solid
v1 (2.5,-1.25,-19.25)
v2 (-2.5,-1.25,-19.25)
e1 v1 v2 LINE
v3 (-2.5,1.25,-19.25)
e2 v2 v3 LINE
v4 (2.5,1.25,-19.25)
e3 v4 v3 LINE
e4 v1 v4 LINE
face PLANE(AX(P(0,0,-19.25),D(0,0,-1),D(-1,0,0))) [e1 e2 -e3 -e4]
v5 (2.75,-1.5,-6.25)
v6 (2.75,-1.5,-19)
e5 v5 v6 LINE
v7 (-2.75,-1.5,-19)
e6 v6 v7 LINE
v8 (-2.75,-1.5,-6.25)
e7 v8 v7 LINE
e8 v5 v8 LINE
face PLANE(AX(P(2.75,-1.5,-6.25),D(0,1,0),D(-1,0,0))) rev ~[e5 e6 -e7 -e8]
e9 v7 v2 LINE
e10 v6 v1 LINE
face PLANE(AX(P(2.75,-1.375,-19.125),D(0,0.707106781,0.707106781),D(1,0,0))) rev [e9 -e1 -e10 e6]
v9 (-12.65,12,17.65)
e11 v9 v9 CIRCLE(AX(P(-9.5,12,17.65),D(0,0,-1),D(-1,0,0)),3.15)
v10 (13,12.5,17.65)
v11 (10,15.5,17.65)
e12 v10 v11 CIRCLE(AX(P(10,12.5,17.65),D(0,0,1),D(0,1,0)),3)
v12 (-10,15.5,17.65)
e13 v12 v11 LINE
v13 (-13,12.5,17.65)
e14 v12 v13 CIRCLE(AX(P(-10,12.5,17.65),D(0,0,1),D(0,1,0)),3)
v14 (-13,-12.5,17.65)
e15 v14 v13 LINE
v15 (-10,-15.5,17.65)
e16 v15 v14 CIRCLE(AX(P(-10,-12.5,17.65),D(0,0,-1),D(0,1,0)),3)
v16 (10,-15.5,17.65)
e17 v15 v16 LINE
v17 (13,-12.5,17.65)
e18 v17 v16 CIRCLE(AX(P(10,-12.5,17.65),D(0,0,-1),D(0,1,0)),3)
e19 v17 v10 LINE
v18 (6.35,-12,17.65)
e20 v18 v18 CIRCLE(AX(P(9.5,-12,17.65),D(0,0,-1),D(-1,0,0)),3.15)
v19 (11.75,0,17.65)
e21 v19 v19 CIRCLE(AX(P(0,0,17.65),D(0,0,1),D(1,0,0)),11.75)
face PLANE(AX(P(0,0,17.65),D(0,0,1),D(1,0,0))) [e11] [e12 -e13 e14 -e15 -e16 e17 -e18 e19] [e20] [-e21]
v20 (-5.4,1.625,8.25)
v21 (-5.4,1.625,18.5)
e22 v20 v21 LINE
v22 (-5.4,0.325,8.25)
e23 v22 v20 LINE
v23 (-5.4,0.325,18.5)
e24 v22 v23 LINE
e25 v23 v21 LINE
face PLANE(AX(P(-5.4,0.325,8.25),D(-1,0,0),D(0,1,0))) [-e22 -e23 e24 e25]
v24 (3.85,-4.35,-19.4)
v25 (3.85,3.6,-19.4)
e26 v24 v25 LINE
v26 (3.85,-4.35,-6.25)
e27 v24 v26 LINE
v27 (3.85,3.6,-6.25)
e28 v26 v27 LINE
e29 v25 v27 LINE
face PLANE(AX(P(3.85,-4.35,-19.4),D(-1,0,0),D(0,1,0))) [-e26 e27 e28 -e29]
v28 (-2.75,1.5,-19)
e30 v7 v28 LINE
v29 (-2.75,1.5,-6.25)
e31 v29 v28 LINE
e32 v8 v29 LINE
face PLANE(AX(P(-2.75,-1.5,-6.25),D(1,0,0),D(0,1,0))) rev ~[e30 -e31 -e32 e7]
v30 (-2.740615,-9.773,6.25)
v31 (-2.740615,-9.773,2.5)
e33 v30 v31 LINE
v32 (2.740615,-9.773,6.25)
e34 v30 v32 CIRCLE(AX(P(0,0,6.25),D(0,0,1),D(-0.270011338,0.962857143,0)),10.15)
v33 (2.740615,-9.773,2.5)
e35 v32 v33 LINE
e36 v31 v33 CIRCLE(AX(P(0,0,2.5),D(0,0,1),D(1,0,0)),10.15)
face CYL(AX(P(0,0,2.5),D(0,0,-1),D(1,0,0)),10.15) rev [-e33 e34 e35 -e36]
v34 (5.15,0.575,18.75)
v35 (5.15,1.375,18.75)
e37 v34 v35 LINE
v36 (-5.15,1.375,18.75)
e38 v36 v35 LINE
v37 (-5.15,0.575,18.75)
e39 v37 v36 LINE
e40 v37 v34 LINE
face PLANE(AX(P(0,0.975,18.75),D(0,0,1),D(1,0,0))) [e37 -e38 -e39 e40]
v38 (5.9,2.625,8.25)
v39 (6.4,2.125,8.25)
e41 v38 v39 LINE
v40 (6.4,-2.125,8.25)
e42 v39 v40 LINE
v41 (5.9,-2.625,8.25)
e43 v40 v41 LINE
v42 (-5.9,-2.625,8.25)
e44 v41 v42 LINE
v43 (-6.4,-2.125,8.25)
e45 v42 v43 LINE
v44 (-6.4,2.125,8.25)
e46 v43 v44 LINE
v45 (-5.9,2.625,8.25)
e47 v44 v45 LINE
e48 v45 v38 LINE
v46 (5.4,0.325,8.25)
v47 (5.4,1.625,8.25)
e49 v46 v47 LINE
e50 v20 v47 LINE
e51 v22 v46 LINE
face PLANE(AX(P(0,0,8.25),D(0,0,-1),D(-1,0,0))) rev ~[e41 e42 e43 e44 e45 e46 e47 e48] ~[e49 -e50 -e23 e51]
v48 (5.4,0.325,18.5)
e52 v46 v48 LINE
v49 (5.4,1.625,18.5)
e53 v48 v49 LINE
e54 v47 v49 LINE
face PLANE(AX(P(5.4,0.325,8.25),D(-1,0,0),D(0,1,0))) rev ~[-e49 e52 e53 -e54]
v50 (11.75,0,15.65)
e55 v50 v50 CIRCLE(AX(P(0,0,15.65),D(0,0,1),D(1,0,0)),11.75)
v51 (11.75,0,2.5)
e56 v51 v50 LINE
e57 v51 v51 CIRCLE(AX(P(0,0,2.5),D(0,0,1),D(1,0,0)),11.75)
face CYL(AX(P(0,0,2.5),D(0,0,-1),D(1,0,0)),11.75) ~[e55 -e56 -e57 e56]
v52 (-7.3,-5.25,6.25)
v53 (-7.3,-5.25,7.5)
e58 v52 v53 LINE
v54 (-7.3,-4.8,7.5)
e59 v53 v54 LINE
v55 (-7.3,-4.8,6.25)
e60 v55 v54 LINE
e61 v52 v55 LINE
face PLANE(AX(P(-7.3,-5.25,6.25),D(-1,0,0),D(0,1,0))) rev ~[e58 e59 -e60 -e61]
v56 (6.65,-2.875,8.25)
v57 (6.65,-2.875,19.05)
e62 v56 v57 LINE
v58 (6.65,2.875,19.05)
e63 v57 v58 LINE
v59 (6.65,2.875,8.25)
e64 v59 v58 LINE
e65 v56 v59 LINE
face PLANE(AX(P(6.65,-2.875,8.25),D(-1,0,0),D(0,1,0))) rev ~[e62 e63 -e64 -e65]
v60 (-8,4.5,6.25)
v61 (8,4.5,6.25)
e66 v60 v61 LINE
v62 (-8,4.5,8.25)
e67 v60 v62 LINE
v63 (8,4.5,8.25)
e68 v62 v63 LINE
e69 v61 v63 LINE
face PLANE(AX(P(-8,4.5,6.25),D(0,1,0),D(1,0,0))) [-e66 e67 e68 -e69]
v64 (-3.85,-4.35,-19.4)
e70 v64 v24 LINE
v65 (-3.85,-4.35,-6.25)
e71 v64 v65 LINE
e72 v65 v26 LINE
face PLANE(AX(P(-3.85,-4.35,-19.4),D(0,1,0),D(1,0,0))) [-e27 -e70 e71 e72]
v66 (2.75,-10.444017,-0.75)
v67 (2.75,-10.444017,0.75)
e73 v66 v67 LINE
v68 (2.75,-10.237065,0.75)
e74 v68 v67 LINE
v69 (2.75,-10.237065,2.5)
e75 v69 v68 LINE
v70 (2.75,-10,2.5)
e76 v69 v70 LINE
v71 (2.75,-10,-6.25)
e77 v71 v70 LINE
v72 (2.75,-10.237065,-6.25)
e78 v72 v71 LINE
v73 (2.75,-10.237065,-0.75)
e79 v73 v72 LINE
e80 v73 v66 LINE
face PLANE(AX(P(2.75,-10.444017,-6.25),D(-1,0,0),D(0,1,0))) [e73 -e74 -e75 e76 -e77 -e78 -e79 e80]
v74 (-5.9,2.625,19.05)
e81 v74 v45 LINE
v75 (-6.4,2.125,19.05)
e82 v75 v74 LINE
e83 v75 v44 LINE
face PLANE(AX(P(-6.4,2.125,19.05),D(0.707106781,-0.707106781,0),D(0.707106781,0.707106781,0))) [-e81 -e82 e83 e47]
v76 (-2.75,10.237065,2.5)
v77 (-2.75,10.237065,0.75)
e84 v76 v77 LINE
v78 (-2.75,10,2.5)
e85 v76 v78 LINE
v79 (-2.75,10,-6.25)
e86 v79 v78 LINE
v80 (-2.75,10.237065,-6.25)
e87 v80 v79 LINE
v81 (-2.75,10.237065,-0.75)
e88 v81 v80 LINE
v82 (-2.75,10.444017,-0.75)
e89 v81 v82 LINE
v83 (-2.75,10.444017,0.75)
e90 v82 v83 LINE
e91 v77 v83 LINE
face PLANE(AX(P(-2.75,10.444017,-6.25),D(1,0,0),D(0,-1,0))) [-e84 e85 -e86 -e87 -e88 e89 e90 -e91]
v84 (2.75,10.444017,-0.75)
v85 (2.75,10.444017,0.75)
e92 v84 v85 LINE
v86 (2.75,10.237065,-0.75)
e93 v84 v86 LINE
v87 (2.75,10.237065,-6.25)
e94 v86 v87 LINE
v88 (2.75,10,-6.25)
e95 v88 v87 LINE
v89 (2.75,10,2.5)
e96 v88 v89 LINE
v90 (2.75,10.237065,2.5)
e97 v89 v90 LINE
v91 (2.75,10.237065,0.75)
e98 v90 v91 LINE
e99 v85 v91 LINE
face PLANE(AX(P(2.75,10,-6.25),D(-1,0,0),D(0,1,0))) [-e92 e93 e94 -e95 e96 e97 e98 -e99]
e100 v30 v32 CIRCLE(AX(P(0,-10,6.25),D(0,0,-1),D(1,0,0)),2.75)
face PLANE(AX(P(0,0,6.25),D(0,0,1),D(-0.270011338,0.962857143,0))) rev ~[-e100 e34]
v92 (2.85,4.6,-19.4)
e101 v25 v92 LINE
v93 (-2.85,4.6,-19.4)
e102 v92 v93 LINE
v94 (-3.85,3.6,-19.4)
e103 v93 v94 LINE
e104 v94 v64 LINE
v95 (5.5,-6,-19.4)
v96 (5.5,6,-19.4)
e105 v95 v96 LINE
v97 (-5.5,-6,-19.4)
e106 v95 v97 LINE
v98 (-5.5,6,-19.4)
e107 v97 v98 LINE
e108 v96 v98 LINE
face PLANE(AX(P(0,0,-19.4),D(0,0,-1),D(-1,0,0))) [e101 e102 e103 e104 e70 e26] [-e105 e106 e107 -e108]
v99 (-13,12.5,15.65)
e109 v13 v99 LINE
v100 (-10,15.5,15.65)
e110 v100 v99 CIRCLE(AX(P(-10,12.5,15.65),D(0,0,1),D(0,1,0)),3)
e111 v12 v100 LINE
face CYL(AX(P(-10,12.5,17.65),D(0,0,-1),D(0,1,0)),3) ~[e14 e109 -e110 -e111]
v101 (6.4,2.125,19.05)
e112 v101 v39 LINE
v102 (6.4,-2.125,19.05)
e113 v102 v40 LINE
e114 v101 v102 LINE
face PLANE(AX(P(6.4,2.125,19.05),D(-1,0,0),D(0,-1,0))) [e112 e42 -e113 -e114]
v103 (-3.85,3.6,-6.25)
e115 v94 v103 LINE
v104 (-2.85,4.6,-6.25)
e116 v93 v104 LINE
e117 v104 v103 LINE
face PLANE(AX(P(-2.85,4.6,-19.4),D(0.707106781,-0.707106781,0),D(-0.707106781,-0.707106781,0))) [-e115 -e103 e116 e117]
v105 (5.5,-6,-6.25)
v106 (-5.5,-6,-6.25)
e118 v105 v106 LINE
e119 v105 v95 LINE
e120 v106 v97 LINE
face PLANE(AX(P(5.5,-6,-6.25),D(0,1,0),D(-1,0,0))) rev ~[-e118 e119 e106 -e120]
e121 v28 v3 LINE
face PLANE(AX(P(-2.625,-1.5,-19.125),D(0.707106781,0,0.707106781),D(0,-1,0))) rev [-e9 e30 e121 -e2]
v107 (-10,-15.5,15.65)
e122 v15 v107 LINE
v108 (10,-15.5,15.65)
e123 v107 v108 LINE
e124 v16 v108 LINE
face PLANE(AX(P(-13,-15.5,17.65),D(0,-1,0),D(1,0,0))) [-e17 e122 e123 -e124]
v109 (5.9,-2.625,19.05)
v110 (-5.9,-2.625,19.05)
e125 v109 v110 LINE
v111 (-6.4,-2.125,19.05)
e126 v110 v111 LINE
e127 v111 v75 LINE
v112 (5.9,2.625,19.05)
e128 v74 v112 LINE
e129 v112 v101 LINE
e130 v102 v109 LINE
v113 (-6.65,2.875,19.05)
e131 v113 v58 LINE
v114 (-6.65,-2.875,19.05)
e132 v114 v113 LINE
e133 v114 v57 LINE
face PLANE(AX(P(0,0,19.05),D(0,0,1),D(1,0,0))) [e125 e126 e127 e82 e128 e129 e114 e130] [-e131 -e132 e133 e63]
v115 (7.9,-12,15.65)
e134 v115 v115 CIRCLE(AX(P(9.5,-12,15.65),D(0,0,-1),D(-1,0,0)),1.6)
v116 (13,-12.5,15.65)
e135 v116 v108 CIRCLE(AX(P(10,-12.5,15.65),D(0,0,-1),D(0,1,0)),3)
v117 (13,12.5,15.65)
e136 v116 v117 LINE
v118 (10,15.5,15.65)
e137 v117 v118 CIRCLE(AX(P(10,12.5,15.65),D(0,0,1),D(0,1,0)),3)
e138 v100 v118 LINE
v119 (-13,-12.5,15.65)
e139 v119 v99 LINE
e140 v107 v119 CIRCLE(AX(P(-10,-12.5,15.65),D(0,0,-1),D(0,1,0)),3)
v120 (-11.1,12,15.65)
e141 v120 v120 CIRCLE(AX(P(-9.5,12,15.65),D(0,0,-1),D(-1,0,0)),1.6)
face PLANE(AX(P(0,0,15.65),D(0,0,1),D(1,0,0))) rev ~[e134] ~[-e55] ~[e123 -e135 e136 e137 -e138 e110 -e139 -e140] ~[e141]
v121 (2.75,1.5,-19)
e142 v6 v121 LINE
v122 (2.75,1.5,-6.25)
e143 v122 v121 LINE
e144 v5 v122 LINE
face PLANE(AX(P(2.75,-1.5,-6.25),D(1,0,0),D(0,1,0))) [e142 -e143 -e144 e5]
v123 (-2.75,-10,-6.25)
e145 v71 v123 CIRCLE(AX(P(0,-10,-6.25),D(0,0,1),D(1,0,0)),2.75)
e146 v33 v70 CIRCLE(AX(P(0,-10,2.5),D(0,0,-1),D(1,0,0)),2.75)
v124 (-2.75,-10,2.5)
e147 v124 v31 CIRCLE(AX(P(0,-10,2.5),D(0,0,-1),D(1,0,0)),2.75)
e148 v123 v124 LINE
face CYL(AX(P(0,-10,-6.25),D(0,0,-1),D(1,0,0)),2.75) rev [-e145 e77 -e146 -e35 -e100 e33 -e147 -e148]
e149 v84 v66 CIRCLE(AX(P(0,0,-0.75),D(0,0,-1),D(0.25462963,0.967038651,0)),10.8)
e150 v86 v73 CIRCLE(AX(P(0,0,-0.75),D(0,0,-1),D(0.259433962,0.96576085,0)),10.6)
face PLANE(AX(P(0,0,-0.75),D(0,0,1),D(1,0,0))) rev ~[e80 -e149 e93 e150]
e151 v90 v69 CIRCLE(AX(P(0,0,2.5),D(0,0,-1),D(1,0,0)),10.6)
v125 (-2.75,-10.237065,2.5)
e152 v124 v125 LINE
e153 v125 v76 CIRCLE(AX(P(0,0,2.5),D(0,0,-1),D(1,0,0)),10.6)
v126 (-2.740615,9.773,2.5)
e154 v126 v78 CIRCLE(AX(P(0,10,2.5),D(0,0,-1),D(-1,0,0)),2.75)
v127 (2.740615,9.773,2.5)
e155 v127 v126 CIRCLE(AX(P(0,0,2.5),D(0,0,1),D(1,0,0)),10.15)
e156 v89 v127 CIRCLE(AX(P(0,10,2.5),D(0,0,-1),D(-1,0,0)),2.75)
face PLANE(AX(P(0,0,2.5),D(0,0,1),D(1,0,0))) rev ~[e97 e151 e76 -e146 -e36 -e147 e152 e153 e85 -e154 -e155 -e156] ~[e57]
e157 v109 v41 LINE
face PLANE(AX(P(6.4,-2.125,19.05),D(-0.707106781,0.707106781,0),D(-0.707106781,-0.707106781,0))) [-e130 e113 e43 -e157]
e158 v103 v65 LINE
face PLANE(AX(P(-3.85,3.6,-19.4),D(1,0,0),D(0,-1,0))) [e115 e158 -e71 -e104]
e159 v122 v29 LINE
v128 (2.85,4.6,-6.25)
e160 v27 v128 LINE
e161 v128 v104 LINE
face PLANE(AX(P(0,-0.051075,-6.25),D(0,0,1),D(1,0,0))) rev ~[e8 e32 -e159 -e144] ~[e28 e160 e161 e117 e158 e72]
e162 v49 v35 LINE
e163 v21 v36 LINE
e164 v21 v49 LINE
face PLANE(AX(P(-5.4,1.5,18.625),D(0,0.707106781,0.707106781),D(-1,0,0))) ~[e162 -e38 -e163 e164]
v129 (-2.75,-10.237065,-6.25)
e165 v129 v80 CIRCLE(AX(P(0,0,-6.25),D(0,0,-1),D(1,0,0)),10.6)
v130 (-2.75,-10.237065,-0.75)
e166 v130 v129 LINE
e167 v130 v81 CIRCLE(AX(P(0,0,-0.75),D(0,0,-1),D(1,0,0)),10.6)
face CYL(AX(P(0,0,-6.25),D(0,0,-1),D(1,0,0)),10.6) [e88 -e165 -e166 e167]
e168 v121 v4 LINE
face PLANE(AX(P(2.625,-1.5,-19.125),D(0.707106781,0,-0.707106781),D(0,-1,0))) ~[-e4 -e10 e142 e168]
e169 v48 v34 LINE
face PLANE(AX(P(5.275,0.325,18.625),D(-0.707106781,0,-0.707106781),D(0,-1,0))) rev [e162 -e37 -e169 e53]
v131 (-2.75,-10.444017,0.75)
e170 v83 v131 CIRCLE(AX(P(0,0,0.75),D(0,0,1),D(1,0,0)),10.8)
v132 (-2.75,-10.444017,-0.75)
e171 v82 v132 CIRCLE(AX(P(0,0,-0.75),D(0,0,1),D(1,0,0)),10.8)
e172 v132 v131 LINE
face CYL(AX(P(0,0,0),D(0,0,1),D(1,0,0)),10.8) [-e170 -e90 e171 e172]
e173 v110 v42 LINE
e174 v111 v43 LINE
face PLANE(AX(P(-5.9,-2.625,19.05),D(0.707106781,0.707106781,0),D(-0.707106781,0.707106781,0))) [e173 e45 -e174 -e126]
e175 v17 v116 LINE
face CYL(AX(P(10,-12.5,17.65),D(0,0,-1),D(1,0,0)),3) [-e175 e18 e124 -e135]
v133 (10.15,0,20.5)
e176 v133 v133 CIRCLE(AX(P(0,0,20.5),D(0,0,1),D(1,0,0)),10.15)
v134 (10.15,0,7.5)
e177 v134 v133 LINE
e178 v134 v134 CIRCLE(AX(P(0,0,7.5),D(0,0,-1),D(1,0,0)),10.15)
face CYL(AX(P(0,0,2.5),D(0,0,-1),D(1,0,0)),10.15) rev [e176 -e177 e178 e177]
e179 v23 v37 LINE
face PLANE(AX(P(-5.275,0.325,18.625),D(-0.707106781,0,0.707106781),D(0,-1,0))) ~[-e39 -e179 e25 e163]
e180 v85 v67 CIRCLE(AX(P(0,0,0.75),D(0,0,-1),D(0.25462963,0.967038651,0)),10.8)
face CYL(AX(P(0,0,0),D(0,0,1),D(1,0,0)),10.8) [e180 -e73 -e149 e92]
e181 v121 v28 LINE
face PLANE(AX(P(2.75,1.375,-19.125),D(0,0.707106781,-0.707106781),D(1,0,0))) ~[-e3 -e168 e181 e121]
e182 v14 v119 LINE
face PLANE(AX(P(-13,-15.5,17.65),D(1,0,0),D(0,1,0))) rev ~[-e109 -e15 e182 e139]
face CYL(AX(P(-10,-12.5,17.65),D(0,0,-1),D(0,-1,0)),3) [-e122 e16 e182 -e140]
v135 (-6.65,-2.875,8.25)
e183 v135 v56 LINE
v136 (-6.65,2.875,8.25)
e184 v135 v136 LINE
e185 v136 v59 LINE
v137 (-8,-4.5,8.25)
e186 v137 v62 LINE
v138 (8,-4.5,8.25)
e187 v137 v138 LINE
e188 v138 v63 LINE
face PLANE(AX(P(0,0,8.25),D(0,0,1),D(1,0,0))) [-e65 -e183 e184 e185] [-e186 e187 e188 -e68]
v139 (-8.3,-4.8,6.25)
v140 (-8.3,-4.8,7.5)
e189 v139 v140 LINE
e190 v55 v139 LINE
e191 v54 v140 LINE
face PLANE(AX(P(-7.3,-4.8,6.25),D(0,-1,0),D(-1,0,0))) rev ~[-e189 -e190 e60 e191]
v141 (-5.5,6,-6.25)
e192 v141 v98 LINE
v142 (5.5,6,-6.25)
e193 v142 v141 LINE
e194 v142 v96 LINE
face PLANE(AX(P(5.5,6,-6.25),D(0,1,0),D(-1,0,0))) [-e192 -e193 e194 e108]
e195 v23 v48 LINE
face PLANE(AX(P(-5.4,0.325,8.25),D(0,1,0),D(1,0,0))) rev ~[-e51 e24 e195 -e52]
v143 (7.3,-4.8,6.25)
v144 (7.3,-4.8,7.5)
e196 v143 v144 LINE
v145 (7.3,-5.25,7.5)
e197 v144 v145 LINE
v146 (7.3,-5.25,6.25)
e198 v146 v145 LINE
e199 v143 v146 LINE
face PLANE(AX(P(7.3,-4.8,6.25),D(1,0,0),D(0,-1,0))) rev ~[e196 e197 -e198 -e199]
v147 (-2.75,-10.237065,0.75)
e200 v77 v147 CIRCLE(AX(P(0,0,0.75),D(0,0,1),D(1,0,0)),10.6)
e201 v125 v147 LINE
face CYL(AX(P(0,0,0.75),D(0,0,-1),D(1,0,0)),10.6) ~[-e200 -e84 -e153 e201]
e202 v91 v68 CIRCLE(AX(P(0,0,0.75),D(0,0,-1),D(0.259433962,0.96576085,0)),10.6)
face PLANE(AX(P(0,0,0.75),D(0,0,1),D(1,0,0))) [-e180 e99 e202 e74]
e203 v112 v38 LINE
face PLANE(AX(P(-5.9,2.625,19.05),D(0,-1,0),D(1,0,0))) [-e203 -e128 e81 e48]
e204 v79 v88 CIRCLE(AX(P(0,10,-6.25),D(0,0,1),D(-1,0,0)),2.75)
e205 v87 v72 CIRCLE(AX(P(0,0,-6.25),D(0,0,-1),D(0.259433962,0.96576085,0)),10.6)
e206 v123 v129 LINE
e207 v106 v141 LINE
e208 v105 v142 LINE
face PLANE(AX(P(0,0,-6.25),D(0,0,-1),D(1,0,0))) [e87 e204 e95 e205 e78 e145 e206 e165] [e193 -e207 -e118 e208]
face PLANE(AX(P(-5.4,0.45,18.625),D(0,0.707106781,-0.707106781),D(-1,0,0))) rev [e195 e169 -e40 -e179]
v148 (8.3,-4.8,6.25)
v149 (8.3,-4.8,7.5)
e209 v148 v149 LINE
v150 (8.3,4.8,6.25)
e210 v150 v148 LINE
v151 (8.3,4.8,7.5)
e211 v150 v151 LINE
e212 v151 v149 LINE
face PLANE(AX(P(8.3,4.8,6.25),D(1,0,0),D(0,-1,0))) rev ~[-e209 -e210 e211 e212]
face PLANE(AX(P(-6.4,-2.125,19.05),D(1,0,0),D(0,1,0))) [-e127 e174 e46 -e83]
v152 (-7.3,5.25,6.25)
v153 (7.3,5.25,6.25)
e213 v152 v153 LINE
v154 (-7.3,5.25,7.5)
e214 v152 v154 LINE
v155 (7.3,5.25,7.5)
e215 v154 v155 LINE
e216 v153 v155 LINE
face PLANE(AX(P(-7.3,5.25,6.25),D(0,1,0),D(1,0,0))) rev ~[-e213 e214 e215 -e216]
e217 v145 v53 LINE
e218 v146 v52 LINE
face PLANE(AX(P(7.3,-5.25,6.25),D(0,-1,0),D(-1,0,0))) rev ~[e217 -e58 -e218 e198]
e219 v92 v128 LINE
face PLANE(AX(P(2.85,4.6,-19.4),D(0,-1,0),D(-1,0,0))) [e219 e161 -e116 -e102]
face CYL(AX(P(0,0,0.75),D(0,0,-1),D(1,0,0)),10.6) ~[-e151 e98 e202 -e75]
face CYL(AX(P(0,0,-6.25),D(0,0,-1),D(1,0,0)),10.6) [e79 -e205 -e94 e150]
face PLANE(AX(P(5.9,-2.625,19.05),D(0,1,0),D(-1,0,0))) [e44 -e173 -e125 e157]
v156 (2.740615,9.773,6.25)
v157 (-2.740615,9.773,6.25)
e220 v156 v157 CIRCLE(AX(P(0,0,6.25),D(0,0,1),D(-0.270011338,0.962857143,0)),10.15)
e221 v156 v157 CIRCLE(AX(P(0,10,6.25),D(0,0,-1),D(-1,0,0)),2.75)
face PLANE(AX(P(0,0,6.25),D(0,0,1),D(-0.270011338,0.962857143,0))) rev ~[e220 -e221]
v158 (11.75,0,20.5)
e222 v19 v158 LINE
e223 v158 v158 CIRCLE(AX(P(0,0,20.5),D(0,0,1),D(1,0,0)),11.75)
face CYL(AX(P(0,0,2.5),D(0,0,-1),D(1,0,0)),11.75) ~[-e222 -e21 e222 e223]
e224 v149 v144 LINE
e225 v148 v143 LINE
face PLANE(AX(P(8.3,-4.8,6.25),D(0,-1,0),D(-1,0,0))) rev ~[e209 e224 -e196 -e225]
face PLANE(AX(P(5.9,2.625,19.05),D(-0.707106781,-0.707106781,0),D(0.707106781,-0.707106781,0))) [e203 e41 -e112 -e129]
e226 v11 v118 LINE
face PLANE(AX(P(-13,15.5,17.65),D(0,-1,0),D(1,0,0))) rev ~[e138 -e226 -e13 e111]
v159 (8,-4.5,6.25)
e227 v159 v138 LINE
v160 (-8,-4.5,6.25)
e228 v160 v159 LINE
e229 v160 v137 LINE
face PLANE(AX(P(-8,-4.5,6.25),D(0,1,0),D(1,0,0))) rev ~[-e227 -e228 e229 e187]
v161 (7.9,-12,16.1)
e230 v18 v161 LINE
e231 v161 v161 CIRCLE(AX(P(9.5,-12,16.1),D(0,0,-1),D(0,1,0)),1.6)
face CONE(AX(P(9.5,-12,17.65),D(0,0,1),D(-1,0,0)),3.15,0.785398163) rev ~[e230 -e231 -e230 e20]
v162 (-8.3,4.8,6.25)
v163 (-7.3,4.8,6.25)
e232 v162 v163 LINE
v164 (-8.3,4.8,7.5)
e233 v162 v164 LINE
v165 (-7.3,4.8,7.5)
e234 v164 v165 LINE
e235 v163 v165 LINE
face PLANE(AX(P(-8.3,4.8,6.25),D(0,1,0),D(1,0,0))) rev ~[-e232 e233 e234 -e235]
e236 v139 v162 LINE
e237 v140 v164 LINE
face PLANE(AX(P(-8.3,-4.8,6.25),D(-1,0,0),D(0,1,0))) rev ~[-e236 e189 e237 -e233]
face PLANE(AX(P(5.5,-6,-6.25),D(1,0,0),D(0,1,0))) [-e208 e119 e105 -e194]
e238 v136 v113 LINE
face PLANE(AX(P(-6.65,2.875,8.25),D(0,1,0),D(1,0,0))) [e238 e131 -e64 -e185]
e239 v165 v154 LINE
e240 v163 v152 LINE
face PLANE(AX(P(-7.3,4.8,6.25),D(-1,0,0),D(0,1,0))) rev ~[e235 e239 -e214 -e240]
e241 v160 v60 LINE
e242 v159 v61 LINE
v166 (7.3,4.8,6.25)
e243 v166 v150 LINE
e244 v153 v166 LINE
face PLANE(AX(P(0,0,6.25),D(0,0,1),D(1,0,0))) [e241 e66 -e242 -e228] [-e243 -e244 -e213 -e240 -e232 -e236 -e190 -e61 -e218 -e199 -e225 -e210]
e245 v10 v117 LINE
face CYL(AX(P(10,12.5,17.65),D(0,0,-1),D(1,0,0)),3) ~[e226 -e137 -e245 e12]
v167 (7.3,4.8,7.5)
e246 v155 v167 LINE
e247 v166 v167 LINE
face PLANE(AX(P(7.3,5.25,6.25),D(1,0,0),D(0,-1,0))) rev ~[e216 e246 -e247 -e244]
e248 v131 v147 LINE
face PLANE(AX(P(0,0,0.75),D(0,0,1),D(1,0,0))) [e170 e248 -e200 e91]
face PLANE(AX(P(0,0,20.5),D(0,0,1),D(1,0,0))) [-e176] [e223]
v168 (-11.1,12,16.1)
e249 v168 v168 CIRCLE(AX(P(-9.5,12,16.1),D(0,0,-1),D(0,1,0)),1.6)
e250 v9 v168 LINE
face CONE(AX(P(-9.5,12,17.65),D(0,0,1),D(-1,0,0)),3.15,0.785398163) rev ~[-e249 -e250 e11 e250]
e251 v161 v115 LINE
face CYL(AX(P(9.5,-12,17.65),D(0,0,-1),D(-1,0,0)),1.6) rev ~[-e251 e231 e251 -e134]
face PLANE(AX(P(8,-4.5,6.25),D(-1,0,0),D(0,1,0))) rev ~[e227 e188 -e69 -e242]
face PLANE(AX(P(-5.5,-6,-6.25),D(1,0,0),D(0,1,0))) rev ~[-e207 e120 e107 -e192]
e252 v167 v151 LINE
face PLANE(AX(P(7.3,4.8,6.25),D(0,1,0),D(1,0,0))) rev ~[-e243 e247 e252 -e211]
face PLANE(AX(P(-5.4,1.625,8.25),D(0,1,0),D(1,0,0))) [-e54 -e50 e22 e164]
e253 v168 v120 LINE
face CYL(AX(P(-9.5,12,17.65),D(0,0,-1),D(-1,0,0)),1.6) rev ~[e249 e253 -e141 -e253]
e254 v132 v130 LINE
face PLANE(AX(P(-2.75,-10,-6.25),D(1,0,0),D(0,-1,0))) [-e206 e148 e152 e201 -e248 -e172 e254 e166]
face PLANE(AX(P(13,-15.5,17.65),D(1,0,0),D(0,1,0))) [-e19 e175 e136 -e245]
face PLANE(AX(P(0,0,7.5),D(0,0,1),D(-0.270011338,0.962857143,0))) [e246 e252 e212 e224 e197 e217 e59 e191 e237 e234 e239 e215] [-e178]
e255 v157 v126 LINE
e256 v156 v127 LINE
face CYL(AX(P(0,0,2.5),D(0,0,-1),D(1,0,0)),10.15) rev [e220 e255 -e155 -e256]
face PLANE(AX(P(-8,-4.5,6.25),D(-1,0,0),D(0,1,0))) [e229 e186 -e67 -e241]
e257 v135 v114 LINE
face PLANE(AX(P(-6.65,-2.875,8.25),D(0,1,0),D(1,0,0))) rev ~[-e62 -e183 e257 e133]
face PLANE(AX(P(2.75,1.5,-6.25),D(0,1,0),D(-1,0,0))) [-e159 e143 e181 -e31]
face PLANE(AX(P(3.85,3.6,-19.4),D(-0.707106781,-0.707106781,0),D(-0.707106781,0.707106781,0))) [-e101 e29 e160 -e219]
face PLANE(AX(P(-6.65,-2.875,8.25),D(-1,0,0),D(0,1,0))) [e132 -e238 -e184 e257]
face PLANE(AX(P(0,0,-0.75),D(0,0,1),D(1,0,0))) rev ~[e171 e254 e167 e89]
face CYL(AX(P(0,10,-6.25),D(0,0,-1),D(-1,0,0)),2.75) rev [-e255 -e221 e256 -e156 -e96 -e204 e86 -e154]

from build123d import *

# Parameters (mm, degrees)
SKETCH1_R                                     = 10.8
EXTRUDE1_DEPTH                                = 0.75
SKETCH2_R                                     = 10.6
EXTRUDE2_DEPTH                                = 5.5
EXTRUDE3_START                                = 5.5
SKETCH3_R                                     = 10.6
EXTRUDE3_DEPTH                                = 5.5
SKETCH4_W                                     = 16
SKETCH4_H                                     = 9
EXTRUDE4_DEPTH                                = 2
SKETCH5_W                                     = 13.3
SKETCH5_H                                     = 5.75
EXTRUDE5_DEPTH                                = 10.8
EXTRUDE6_DEPTH                                = 10.8
SKETCH7_W                                     = 10.8
SKETCH7_H                                     = 1.3
EXTRUDE7_DEPTH                                = 10.5
CHAMFER1_SIZE                                 = 0.25
SKETCH8_W                                     = 11
SKETCH8_H                                     = 12
EXTRUDE8_DEPTH                                = 13.15
EXTRUDE9_DEPTH                                = 13.15
SKETCH10_W                                    = 5.5
SKETCH10_H                                    = 3
EXTRUDE10_DEPTH                               = 13
CHAMFER2_SIZE                                 = 0.25
EXTRUDE11_DEPTH                               = 30.552834043
SKETCH12_R                                    = 10.15
EXTRUDE12_DEPTH                               = 1.25
EXTRUDE13_DEPTH                               = 13
EXTRUDE13_DEPTH_BACK                          = 5
SKETCH13_R                                    = 11.75
SKETCH13_R_2                                  = 10.15
SKETCH14_W                                    = 26
SKETCH14_H                                    = 31
SKETCH14_R                                    = 11.75
EXTRUDE14_DEPTH                               = 2
CSK_FOR_M3_COUNTERSUNK_FLAT_HEAD1_D           = 3.2
CSK_FOR_M3_COUNTERSUNK_FLAT_HEAD1_CSINK_D     = 6.3
CSK_FOR_M3_COUNTERSUNK_FLAT_HEAD1_CSINK_ANGLE = 90
FILLET1_R                                     = 3


with BuildPart() as part:
    # Sketch1 → Extrude1 (new, symmetric)
    with BuildSketch(Plane.XY):
        Circle(SKETCH1_R)
    extrude(amount=EXTRUDE1_DEPTH, both=True)

    # Sketch2 → Extrude2 (add)
    with BuildSketch(Plane.XY.offset(0.75)):
        Circle(SKETCH2_R)
    extrude(amount=EXTRUDE2_DEPTH)

    # Sketch3 → Extrude3 (add)
    with BuildSketch(Plane(origin=(0, 0, -0.75), x_dir=(-1, 0, 0), z_dir=(0, 0, -1)).offset(EXTRUDE3_START)):
        with Locations(Location((0, 0, 0), (0, 0, 180))):
            Circle(SKETCH3_R)
    extrude(amount=-EXTRUDE3_DEPTH)

    # Sketch4 → Extrude4 (add)
    with BuildSketch(Plane.XY.offset(6.25)):
        Rectangle(SKETCH4_W, SKETCH4_H)
    extrude(amount=EXTRUDE4_DEPTH)

    # Sketch5 → Extrude5 (add)
    with BuildSketch(Plane.XY.offset(8.25)):
        Rectangle(SKETCH5_W, SKETCH5_H)
    extrude(amount=EXTRUDE5_DEPTH)

    # Sketch6 → Extrude6 (cut)
    with BuildSketch(Plane.XY.offset(19.05)):
        Polygon((-5.9, 2.625), (5.9, 2.625), (6.4, 2.125), (6.4, -2.125), (5.9, -2.625), (-5.9, -2.625), (-6.4, -2.125), (-6.4, 2.125), align=None)
    extrude(amount=-EXTRUDE6_DEPTH, mode=Mode.SUBTRACT)

    # Sketch7 → Extrude7 (add)
    with BuildSketch(Plane.XY.offset(8.25)):
        with Locations((0, 0.975)):
            Rectangle(SKETCH7_W, SKETCH7_H)
    extrude(amount=EXTRUDE7_DEPTH)

    # Chamfer1
    chamfer1_edges = [part.edges().sort_by_distance(p)[0] for p in [
        (-5.4, 0.975, 18.75),
        (0, 0.325, 18.75),
        (5.4, 0.975, 18.75),
        (0, 1.625, 18.75),
    ]]
    chamfer(chamfer1_edges, length=CHAMFER1_SIZE)

    # Sketch8 → Extrude8 (add)
    with BuildSketch(Plane(origin=(0, 0, -6.25), x_dir=(-1, 0, 0), z_dir=(0, 0, -1))):
        Rectangle(SKETCH8_W, SKETCH8_H)
    extrude(amount=EXTRUDE8_DEPTH)

    # Sketch9 → Extrude9 (cut)
    with BuildSketch(Plane(origin=(0, 0, -19.4), x_dir=(-1, 0, 0), z_dir=(0, 0, -1))):
        Polygon((-2.85, 4.6), (2.85, 4.6), (3.85, 3.6), (3.85, -4.35), (-3.85, -4.35), (-3.85, 3.6), align=None)
    extrude(amount=-EXTRUDE9_DEPTH, mode=Mode.SUBTRACT)

    # Sketch10 → Extrude10 (add)
    with BuildSketch(Plane(origin=(0, 0, -6.25), x_dir=(-1, 0, 0), z_dir=(0, 0, -1))):
        Rectangle(SKETCH10_W, SKETCH10_H)
    extrude(amount=EXTRUDE10_DEPTH)

    # Chamfer2
    chamfer2_edges = [part.edges().sort_by_distance(p)[0] for p in [
        (2.75, 0, -19.25),
        (0, -1.5, -19.25),
        (-2.75, 0, -19.25),
        (0, 1.5, -19.25),
    ]]
    chamfer(chamfer2_edges, length=CHAMFER2_SIZE)

    # Sketch11 → Extrude11 (cut, through all)
    with BuildSketch(Plane(origin=(0, 0, -6.25), x_dir=(-1, 0, 0), z_dir=(0, 0, -1))):
        with BuildLine():
            Line((-2.75, 10), (-2.75, 10.444017426))
            ThreePointArc((-2.75, 10.444017426), (0, 10.8), (2.75, 10.444017426))
            Line((2.75, 10.444017426), (2.75, 10))
            ThreePointArc((2.75, 10), (0, 7.25), (-2.75, 10))
        make_face()
        with BuildLine():
            Line((-2.75, -10.444017426), (-2.75, -10))
            ThreePointArc((-2.75, -10), (0, -7.25), (2.75, -10))
            Line((2.75, -10), (2.75, -10.444017426))
            ThreePointArc((2.75, -10.444017426), (0, -10.8), (-2.75, -10.444017426))
        make_face()
    extrude(amount=-EXTRUDE11_DEPTH, mode=Mode.SUBTRACT)

    # Sketch12 → Extrude12 (add)
    with BuildSketch(Plane.XY.offset(6.25)):
        with Locations(Location((0, 0, 0), (0, 0, 105.664941507))):
            Circle(SKETCH12_R)
        Polygon((7.3, 4.8), (8.3, 4.8), (8.3, -4.8), (7.3, -4.8), (7.3, -5.25), (-7.3, -5.25), (-7.3, -4.8), (-8.3, -4.8), (-8.3, 4.8), (-7.3, 4.8), (-7.3, 5.25), (7.3, 5.25), align=None, mode=Mode.SUBTRACT)
    extrude(amount=EXTRUDE12_DEPTH)

    # Sketch13 → Extrude13 (add, two sides: drawn at the far end of the back side and taken through both)
    with BuildSketch(Plane.XY.offset(7.5).offset(-EXTRUDE13_DEPTH_BACK)):
        Circle(SKETCH13_R)
        Circle(SKETCH13_R_2, mode=Mode.SUBTRACT)
    extrude(amount=EXTRUDE13_DEPTH + EXTRUDE13_DEPTH_BACK)

    # Sketch14 → Extrude14 (add)
    with BuildSketch(Plane.XY.offset(17.65)):
        Rectangle(SKETCH14_W, SKETCH14_H)
        Circle(SKETCH14_R, mode=Mode.SUBTRACT)
    extrude(amount=-EXTRUDE14_DEPTH)

    # CSK for M3 Countersunk Flat Head1 (through all)
    with Locations(Plane.XY.offset(17.65)):
        with Locations((-9.5, 12), (9.5, -12)):
            CounterSinkHole(CSK_FOR_M3_COUNTERSUNK_FLAT_HEAD1_D / 2, CSK_FOR_M3_COUNTERSUNK_FLAT_HEAD1_CSINK_D / 2, counter_sink_angle=CSK_FOR_M3_COUNTERSUNK_FLAT_HEAD1_CSINK_ANGLE)

    # Fillet1
    fillet1_edges = [part.edges().sort_by_distance(p)[0] for p in [
        (-13, -15.5, 16.65),
        (-13, 15.5, 16.65),
        (13, 15.5, 16.65),
        (13, -15.5, 16.65),
    ]]
    fillet(fillet1_edges, radius=FILLET1_R)


solid = part.part
